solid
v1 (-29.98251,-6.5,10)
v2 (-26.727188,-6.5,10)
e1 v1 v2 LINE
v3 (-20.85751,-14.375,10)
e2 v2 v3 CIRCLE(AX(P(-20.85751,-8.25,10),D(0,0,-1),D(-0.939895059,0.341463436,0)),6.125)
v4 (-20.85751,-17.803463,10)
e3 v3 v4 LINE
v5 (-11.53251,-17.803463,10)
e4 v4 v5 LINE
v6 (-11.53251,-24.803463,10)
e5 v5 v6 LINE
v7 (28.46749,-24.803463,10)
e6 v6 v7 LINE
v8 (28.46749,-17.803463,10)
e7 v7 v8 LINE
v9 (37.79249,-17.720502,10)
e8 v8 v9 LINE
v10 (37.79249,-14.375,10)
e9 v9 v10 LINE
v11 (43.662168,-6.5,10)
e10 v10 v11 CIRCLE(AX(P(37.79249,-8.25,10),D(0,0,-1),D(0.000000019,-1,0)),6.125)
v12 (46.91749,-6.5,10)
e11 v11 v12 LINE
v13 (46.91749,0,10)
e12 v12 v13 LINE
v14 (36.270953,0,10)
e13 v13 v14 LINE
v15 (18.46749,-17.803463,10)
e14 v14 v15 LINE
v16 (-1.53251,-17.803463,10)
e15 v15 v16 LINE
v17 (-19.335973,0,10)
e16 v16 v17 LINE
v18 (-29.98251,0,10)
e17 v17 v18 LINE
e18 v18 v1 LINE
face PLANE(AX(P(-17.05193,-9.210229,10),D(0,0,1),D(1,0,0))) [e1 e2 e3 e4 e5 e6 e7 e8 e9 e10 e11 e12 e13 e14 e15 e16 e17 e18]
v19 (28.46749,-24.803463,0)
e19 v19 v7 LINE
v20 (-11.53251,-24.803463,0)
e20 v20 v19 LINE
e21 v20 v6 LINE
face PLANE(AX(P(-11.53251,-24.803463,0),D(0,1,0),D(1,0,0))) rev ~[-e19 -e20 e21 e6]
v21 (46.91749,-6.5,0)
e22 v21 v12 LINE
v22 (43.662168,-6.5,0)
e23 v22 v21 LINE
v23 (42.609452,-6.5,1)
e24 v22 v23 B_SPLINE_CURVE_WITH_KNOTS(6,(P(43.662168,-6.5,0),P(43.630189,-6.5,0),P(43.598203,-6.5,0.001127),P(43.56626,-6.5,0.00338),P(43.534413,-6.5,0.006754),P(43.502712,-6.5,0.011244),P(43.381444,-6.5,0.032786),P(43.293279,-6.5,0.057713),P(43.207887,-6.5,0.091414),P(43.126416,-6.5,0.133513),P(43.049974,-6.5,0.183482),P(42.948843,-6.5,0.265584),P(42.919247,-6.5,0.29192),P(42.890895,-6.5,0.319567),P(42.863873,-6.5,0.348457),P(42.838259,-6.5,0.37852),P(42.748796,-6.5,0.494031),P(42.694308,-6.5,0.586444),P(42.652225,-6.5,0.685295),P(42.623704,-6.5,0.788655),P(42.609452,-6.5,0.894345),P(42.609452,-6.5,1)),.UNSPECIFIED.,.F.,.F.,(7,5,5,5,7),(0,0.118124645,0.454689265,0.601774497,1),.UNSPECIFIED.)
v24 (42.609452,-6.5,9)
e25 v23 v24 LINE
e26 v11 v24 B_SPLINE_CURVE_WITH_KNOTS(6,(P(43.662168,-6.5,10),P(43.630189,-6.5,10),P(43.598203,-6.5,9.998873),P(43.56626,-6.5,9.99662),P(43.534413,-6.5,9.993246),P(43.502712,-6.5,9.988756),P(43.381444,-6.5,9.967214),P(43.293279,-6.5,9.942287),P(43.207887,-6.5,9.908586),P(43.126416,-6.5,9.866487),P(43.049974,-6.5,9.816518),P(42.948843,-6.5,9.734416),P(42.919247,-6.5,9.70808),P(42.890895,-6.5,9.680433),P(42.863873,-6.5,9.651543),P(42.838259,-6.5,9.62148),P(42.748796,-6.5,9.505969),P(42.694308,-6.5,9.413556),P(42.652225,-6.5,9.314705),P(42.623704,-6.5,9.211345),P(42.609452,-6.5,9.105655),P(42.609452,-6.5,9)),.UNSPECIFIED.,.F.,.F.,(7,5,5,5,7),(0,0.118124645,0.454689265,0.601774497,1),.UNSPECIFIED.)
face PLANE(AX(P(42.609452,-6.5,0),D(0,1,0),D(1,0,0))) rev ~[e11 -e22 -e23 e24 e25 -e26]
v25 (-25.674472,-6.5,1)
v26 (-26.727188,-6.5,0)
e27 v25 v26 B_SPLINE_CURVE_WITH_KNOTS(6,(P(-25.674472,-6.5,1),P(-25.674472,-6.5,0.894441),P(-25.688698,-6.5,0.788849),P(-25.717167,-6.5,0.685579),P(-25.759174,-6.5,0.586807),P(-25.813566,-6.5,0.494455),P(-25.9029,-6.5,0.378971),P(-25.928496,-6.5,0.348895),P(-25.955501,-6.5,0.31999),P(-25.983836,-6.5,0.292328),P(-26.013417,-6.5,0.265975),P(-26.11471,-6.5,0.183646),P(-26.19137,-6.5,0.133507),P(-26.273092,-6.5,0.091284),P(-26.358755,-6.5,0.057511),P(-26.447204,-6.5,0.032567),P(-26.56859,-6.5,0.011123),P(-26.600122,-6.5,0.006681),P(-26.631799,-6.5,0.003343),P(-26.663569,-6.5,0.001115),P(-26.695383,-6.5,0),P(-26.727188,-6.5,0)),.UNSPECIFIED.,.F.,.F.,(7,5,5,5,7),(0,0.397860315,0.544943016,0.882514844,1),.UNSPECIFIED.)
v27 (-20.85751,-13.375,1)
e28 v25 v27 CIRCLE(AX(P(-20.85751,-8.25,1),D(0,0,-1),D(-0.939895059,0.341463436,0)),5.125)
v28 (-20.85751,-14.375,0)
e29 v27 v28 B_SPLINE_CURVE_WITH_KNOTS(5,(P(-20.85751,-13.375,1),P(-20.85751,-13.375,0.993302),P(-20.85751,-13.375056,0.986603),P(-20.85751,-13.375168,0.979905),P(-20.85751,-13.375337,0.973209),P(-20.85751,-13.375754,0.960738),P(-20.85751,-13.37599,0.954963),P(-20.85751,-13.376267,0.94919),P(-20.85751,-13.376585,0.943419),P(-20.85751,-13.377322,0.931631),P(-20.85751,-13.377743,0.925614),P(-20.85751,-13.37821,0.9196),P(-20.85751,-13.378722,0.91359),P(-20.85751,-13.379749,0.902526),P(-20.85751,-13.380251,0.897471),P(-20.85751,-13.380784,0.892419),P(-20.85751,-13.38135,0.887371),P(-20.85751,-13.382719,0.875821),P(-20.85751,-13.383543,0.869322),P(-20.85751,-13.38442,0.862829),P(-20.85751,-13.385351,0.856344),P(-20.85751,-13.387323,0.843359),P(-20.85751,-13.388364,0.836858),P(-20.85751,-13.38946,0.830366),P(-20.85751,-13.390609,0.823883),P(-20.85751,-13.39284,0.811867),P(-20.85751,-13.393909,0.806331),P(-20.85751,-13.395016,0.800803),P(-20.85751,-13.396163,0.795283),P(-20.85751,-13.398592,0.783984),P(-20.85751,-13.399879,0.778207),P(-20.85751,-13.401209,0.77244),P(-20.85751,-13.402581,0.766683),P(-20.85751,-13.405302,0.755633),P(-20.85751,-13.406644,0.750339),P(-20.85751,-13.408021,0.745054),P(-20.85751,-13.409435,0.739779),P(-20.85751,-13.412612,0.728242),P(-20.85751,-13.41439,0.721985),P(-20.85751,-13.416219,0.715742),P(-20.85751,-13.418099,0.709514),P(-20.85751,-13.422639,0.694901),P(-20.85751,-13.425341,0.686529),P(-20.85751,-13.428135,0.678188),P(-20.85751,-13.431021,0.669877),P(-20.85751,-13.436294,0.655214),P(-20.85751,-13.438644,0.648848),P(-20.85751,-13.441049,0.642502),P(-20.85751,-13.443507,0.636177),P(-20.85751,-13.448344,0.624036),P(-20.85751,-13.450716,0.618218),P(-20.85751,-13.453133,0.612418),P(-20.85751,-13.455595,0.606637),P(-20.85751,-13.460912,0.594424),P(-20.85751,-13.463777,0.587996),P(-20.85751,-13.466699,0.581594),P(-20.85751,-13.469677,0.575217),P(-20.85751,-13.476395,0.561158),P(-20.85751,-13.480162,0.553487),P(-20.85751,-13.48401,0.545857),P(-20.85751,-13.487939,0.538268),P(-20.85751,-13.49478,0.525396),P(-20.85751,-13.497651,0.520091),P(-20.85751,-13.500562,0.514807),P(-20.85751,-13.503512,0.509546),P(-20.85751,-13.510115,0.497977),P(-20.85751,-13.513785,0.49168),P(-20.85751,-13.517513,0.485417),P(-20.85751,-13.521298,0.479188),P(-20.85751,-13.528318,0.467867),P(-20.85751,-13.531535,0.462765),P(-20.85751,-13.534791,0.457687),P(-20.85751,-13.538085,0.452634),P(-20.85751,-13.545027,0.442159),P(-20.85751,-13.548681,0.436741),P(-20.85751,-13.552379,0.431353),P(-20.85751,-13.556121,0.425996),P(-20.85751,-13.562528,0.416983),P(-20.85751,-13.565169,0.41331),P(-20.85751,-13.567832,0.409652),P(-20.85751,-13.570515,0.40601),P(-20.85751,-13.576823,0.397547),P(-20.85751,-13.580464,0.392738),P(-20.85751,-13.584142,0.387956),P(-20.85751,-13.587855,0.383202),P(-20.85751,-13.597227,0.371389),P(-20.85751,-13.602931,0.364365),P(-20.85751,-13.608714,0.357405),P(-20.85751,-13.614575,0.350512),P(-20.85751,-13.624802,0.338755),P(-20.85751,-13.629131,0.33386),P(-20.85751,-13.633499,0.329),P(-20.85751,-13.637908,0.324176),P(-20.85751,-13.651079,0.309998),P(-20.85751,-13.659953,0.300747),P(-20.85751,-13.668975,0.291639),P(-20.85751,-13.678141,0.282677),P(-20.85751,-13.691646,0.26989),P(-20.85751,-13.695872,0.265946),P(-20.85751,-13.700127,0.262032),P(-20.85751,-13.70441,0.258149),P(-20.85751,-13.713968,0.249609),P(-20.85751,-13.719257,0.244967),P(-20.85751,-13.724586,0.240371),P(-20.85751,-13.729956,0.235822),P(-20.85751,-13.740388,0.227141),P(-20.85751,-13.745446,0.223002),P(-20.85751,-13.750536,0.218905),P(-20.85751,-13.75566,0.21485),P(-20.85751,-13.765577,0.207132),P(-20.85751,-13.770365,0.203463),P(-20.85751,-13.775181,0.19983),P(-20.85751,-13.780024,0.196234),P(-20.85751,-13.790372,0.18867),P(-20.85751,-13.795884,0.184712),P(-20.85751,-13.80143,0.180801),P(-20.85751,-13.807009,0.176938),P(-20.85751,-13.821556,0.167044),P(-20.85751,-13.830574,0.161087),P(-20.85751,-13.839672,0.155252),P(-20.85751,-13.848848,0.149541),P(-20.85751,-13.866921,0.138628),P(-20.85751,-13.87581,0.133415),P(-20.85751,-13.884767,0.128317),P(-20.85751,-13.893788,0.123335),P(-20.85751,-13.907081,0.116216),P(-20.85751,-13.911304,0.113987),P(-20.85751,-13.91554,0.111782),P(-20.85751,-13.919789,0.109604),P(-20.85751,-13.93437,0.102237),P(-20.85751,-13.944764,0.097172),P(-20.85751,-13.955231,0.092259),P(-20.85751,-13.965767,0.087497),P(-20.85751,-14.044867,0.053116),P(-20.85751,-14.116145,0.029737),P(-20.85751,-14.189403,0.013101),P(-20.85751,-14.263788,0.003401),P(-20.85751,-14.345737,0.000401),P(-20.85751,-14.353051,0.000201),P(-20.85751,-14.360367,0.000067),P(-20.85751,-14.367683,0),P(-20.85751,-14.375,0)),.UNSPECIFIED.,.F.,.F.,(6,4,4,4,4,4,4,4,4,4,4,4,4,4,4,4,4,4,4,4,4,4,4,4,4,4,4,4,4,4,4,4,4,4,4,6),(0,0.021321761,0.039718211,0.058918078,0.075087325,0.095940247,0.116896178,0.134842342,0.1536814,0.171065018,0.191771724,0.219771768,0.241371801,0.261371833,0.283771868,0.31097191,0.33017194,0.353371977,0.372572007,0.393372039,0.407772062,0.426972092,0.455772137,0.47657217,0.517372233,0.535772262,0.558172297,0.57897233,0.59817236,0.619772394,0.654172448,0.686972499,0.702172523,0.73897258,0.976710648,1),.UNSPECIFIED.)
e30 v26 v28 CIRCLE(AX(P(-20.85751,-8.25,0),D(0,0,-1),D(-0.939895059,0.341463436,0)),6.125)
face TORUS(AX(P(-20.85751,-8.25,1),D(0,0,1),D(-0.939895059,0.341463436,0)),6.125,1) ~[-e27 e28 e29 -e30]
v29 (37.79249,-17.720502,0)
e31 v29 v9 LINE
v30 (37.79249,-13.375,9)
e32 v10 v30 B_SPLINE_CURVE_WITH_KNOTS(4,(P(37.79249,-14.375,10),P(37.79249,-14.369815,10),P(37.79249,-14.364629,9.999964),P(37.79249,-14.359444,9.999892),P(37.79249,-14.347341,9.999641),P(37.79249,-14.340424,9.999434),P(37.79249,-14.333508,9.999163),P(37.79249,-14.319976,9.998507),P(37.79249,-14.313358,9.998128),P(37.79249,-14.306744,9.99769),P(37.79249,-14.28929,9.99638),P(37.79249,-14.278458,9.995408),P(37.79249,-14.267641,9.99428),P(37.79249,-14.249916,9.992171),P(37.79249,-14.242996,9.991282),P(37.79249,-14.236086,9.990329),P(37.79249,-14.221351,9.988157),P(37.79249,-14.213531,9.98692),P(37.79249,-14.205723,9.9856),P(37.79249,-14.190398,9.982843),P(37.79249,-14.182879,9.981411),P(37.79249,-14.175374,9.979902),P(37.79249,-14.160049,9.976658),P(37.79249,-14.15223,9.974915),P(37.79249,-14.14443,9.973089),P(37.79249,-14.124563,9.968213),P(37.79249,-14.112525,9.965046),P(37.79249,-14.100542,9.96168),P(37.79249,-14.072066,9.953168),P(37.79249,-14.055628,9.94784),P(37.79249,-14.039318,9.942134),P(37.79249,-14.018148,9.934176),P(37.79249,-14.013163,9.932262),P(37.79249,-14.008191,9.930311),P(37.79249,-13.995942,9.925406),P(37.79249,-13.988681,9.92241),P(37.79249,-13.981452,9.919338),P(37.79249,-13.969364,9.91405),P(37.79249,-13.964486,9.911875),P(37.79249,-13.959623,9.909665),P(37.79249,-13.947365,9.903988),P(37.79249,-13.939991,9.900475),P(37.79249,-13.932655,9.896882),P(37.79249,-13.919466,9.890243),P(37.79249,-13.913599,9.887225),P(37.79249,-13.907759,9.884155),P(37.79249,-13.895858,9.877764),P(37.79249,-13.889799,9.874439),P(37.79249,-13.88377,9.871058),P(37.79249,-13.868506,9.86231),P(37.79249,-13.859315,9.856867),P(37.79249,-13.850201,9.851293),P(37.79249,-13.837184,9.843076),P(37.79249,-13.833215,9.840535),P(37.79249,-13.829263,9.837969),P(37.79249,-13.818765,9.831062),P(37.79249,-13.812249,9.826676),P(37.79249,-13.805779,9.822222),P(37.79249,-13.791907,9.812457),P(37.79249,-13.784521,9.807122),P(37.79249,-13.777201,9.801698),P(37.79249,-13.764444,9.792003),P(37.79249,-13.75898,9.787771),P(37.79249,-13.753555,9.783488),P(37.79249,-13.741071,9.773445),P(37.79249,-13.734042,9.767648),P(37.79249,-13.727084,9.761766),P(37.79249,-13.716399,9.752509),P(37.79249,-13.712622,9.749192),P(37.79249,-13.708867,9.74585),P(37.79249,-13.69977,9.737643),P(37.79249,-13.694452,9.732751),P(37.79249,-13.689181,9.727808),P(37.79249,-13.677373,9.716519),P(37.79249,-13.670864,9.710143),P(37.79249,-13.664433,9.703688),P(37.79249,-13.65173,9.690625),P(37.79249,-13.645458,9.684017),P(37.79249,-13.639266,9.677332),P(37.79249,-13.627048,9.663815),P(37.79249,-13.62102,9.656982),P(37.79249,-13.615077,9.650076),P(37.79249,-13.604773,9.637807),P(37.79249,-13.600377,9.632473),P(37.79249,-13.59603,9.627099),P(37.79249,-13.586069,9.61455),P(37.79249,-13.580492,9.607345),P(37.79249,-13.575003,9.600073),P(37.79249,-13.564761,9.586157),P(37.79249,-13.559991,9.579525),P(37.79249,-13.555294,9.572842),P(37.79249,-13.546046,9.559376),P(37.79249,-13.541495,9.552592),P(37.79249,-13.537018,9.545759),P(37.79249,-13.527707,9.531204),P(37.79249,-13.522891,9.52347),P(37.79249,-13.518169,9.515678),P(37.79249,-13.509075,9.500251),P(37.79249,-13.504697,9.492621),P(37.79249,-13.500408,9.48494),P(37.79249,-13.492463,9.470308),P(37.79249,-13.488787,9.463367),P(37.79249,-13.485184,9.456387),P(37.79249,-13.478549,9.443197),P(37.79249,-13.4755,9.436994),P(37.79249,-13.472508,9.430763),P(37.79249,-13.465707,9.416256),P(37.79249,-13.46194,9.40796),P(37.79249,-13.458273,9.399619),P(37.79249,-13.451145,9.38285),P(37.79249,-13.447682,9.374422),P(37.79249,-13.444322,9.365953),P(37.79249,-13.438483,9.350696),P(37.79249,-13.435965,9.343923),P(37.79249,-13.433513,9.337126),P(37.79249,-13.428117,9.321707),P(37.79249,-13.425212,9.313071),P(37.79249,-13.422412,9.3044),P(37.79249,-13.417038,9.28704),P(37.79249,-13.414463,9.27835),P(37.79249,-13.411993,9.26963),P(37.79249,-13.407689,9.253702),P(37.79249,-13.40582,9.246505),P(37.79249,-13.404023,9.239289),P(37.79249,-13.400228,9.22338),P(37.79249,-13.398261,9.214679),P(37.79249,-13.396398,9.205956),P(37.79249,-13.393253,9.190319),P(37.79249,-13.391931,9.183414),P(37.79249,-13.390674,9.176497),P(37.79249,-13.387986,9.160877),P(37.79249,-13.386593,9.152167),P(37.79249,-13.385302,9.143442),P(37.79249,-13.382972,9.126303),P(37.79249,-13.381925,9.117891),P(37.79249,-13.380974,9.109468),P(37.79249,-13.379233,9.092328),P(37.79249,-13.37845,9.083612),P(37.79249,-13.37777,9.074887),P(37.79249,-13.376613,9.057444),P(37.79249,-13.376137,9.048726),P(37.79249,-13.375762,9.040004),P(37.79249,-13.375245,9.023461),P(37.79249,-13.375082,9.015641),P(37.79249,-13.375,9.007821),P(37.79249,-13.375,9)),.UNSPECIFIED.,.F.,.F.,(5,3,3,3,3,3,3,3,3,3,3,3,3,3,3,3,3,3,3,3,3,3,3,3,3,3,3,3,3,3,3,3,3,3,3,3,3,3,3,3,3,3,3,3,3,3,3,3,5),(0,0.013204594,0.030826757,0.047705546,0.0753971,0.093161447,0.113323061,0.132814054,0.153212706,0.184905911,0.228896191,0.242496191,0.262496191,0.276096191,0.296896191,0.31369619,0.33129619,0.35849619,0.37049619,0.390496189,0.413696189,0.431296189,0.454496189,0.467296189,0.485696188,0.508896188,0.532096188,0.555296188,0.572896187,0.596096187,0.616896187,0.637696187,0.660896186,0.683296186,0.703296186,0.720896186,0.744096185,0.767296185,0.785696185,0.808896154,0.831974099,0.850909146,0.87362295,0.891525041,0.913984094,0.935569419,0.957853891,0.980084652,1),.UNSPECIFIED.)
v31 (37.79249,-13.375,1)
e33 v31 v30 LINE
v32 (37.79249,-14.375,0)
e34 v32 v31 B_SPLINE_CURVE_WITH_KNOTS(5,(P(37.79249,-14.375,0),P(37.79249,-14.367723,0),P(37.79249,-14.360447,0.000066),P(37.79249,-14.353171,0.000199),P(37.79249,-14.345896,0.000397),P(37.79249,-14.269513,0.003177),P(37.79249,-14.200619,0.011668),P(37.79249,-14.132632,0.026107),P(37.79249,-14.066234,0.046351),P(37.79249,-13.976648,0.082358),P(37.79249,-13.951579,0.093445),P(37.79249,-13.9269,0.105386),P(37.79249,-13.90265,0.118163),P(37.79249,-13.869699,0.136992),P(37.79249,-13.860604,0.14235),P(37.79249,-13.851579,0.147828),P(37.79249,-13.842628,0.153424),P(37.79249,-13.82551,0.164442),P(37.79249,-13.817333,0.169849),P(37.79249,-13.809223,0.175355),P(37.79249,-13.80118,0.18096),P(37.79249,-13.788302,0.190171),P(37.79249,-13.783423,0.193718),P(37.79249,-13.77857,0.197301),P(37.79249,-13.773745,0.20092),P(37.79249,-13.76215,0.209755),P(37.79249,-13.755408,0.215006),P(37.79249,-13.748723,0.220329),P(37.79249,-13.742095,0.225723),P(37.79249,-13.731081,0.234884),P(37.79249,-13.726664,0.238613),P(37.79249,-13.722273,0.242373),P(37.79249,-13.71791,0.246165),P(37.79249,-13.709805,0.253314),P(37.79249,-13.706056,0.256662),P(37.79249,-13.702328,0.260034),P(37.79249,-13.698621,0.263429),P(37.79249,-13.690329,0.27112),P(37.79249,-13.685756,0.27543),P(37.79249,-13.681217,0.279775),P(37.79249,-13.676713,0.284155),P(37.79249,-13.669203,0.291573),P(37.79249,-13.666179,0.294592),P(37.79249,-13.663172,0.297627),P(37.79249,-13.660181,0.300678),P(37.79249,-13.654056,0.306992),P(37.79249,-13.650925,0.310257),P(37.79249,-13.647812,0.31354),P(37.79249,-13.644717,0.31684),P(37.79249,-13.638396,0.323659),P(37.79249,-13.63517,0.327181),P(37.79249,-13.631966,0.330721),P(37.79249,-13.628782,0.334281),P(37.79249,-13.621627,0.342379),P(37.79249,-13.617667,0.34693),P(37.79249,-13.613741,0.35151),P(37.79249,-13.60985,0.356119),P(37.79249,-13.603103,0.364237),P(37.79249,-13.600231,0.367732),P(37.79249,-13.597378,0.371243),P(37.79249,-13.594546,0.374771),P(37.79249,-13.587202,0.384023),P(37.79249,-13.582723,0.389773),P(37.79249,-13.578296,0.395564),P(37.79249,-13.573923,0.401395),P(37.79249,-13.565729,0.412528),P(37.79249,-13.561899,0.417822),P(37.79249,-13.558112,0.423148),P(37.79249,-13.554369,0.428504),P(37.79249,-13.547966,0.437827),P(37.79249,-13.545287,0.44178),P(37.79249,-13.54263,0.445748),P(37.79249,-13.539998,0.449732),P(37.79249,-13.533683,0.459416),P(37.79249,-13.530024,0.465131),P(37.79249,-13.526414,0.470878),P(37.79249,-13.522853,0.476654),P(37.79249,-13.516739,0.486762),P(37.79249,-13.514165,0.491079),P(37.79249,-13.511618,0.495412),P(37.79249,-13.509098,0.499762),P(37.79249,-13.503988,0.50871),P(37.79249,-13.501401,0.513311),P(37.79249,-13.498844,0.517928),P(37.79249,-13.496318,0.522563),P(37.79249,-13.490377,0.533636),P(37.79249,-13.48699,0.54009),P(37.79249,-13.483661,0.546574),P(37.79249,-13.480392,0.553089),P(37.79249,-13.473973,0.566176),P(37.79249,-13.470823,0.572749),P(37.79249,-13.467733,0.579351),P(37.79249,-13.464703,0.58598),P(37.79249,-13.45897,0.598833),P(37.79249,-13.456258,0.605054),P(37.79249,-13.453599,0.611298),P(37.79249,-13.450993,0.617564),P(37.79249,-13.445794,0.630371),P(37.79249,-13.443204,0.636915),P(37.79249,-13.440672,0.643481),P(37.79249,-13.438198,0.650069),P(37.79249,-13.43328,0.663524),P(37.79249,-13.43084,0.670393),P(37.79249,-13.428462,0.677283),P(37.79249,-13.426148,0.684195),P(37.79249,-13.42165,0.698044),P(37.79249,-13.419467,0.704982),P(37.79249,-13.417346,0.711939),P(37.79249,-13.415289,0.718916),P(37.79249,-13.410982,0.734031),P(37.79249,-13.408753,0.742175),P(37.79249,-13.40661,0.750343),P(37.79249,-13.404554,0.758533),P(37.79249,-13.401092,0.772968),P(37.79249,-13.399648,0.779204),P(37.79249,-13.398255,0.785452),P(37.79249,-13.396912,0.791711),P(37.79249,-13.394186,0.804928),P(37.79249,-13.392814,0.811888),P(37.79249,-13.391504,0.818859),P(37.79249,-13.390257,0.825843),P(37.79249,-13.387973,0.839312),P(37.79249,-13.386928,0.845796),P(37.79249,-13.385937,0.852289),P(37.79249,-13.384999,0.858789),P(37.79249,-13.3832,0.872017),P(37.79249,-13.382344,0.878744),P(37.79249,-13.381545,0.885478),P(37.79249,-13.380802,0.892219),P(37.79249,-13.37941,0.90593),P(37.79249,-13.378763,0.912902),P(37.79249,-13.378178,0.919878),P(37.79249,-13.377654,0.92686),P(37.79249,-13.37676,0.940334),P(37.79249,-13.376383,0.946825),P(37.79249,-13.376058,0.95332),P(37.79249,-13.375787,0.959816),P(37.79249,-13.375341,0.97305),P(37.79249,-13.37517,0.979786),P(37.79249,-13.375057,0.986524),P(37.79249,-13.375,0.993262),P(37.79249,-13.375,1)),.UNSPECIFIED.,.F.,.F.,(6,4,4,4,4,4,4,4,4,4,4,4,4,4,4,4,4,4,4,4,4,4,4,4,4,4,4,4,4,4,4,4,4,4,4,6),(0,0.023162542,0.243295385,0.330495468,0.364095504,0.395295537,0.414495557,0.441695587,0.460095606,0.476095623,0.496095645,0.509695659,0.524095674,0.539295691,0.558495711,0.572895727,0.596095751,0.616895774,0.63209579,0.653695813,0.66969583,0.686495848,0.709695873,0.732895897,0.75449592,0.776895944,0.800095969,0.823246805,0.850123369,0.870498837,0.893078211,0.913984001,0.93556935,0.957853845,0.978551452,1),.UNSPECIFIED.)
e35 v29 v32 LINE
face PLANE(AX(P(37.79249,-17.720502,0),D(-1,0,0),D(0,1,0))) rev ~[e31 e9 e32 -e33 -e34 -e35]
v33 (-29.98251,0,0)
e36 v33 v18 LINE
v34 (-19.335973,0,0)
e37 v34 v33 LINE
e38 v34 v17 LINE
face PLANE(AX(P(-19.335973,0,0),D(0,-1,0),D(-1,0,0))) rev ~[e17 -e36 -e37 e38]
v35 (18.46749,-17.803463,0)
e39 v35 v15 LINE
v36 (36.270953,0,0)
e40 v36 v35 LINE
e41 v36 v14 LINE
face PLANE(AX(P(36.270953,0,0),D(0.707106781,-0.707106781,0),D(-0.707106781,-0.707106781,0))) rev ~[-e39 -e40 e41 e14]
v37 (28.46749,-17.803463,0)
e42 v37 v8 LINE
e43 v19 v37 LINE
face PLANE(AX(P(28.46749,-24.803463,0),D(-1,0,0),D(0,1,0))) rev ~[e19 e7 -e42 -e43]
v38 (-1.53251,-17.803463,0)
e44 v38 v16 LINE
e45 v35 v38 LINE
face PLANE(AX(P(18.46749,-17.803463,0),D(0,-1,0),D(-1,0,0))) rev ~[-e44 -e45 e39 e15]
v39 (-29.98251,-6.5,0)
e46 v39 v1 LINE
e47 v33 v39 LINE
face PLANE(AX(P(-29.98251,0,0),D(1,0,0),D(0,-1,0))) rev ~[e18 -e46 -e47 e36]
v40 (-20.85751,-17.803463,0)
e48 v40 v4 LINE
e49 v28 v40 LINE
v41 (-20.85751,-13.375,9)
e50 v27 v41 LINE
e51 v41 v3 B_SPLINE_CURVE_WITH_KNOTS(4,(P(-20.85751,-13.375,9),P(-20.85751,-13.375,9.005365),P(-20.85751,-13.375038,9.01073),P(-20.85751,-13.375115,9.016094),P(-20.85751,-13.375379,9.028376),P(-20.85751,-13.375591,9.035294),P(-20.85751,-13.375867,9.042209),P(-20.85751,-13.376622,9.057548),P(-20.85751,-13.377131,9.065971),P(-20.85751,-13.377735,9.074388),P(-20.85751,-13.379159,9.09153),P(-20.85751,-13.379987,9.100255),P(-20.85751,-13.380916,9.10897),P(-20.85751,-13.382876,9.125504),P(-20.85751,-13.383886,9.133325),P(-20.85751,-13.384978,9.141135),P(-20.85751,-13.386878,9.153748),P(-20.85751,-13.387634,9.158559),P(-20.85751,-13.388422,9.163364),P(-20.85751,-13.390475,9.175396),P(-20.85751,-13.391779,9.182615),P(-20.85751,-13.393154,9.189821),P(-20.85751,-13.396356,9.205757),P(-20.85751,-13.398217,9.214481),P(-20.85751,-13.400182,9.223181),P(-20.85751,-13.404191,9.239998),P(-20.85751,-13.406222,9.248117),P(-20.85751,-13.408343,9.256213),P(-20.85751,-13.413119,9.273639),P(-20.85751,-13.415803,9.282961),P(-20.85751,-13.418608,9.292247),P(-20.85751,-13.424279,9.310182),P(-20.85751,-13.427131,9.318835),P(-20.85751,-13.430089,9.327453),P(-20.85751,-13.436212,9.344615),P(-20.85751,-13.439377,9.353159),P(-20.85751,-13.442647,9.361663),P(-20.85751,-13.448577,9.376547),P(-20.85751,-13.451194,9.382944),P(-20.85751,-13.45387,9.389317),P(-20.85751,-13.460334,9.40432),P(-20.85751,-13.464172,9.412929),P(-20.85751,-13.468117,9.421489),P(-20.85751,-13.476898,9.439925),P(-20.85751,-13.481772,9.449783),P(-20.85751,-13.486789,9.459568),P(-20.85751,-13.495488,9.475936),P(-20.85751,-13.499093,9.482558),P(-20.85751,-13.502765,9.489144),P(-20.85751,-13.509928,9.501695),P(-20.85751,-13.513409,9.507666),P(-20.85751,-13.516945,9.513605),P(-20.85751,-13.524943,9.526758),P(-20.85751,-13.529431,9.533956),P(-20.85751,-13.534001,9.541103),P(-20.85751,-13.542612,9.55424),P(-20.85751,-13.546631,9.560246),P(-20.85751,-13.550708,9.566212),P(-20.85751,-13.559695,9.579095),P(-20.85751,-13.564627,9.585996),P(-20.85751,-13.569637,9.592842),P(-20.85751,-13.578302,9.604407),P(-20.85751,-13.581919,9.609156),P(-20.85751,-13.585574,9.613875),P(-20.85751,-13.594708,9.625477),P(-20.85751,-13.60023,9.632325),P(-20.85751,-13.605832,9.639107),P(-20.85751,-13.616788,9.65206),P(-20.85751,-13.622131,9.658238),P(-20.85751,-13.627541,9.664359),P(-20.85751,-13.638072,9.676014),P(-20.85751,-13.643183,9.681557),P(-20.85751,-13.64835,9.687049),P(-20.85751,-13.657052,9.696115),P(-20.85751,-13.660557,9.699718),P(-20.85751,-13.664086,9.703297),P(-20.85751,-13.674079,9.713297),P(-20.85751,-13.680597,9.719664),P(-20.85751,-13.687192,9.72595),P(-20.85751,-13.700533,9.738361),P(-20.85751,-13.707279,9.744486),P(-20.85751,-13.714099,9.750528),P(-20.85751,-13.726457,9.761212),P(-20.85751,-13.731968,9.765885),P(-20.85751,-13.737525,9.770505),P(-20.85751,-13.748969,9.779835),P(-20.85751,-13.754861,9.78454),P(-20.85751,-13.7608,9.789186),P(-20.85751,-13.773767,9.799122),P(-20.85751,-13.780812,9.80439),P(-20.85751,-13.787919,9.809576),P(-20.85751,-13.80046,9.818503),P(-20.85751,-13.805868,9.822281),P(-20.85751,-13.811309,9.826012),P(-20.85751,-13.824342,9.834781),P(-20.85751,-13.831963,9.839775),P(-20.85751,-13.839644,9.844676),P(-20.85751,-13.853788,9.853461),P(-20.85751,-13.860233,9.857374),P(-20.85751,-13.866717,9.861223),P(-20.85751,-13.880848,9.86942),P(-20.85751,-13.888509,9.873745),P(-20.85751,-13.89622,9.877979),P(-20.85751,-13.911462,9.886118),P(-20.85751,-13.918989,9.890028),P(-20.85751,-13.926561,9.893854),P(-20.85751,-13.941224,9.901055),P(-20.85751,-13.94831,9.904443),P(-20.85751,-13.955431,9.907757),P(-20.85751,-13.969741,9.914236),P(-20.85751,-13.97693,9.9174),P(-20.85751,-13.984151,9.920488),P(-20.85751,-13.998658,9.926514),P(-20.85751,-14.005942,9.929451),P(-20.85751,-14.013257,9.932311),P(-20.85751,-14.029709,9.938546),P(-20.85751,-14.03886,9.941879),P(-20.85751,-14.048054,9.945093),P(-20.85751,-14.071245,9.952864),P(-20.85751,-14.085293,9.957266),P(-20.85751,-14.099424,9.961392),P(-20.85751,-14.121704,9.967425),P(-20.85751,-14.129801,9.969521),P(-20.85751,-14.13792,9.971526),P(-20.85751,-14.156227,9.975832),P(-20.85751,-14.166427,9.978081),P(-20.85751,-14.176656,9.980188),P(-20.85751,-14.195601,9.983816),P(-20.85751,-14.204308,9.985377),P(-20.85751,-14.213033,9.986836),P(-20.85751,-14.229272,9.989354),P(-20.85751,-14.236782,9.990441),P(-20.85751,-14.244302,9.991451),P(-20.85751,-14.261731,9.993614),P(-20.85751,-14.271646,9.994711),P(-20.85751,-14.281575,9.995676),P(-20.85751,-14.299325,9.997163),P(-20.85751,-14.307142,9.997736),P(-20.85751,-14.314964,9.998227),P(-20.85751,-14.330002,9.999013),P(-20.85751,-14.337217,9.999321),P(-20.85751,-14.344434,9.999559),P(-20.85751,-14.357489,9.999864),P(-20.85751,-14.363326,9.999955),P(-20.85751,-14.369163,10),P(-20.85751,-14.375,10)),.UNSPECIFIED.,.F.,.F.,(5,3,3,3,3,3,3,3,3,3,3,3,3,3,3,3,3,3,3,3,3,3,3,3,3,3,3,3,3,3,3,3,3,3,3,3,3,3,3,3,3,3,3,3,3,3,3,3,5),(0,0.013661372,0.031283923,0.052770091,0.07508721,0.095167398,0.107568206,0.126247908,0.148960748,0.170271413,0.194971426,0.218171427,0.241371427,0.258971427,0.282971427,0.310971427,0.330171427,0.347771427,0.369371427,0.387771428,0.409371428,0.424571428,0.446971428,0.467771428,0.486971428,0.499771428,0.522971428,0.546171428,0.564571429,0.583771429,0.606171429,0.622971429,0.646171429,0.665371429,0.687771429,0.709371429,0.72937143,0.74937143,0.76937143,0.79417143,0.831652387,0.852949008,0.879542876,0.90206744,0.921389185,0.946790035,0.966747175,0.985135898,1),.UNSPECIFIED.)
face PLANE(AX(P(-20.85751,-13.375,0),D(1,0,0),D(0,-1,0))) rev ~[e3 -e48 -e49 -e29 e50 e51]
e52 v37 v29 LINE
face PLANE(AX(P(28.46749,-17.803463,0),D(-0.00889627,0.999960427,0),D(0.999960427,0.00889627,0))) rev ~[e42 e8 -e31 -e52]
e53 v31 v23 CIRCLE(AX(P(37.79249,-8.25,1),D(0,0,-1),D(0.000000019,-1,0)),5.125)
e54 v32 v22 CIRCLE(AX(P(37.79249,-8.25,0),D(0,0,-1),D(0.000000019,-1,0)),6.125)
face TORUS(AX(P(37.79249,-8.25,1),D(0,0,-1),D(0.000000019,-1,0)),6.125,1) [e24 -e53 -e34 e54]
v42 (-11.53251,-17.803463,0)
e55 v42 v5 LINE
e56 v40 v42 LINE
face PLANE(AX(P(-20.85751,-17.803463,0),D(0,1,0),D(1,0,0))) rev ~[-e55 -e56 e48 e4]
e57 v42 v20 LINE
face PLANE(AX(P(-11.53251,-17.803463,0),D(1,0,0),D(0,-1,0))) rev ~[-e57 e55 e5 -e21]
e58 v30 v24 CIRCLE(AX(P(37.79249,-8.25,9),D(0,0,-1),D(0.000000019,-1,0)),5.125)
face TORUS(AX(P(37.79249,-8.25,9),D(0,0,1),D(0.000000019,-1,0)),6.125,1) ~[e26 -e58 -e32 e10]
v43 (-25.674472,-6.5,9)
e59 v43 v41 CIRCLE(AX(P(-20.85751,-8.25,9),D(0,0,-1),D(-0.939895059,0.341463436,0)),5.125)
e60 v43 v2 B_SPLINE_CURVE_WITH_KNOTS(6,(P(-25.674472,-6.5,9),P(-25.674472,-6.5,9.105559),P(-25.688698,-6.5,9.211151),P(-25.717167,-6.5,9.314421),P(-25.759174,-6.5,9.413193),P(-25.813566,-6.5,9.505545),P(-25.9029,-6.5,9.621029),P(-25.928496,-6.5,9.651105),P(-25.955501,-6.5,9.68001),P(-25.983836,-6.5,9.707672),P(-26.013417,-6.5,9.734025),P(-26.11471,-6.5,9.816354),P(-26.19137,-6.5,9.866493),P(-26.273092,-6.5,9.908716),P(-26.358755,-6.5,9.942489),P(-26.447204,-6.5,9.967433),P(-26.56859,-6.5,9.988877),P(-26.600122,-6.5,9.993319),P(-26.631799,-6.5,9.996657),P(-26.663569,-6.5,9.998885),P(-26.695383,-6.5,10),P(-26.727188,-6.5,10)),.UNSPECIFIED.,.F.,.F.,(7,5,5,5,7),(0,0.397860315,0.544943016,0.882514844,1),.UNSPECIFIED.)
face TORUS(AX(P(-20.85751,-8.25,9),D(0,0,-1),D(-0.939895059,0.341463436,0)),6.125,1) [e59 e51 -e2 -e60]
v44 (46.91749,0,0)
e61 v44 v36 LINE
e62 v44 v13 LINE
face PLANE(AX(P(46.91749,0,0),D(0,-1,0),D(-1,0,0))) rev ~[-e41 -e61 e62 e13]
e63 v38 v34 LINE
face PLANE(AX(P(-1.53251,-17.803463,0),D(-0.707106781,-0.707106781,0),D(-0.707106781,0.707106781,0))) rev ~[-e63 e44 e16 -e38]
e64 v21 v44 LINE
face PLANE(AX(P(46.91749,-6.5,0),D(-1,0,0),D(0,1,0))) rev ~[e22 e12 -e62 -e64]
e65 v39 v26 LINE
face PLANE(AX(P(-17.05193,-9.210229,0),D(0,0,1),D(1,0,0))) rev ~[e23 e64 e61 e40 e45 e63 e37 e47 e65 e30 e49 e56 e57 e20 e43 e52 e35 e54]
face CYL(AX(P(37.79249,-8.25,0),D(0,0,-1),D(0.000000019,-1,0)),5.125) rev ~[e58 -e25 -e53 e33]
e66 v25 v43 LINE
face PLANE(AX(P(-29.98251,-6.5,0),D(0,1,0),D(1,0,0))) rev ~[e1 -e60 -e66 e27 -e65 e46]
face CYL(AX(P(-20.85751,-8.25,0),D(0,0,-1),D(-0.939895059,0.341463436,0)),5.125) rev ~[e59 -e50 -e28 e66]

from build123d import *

# Parameters (mm, degrees)
F1_DEPTH = 10
F2_R     = 1
F3_R     = 1


with BuildPart() as f1:
    # F0 (on Top) → F1 (new body)
    with BuildSketch(Plane.XY):
        with BuildLine():
            Line((-20.85751, -17.803463), (-11.53251, -17.803463))
            Line((-11.53251, -17.803463), (-1.53251, -17.803463))
            Line((-1.53251, -17.803463), (-19.335973, 0))
            Line((-19.335973, 0), (-25.98251, 0))
            Line((-25.98251, 0), (-29.98251, 0))
            Line((-29.98251, 0), (-29.98251, -6.5))
            Line((-29.98251, -6.5), (-25.674472, -6.5))
            ThreePointArc((-25.674472, -6.5), (-16.660227, -5.309177), (-20.85751, -13.375))
            Line((-20.85751, -13.375), (-20.85751, -16.5))
            Line((-20.85751, -16.5), (-20.85751, -17.803463))
        make_face()
        Polygon((-1.53251, -17.803463), (-11.53251, -17.803463), (-11.53251, -24.803463), (8.46749, -24.803463), (8.46749, -17.803463), align=None)
        Polygon((18.46749, -17.803463), (8.46749, -17.803463), (8.46749, -24.803463), (28.46749, -24.803463), (28.46749, -17.803463), align=None)
        with BuildLine():
            Line((36.270953, 0), (18.46749, -17.803463))
            Line((18.46749, -17.803463), (28.46749, -17.803463))
            Line((28.46749, -17.803463), (37.79249, -17.720502))
            Line((37.79249, -17.720502), (37.79249, -13.375))
            ThreePointArc((37.79249, -13.375), (33.595207, -5.309177), (42.609452, -6.5))
            Line((42.609452, -6.5), (46.91749, -6.5))
            Line((46.91749, -6.5), (46.91749, 0))
            Line((46.91749, 0), (42.91749, 0))
            Line((42.91749, 0), (36.270953, 0))
        make_face()
    extrude(amount=F1_DEPTH)

    # F2
    f2_edges = [f1.edges().sort_by_distance(p)[0] for p in [
        (-16.660227, -5.309177, 10),
    ]]
    fillet(f2_edges, radius=F2_R)

    # F3
    f3_edges = [f1.edges().sort_by_distance(p)[0] for p in [
        (33.595207, -5.309177, 10),
        (-16.660227, -5.309177, 0),
        (33.595207, -5.309177, 0),
    ]]
    fillet(f3_edges, radius=F3_R)


solid = f1.part
